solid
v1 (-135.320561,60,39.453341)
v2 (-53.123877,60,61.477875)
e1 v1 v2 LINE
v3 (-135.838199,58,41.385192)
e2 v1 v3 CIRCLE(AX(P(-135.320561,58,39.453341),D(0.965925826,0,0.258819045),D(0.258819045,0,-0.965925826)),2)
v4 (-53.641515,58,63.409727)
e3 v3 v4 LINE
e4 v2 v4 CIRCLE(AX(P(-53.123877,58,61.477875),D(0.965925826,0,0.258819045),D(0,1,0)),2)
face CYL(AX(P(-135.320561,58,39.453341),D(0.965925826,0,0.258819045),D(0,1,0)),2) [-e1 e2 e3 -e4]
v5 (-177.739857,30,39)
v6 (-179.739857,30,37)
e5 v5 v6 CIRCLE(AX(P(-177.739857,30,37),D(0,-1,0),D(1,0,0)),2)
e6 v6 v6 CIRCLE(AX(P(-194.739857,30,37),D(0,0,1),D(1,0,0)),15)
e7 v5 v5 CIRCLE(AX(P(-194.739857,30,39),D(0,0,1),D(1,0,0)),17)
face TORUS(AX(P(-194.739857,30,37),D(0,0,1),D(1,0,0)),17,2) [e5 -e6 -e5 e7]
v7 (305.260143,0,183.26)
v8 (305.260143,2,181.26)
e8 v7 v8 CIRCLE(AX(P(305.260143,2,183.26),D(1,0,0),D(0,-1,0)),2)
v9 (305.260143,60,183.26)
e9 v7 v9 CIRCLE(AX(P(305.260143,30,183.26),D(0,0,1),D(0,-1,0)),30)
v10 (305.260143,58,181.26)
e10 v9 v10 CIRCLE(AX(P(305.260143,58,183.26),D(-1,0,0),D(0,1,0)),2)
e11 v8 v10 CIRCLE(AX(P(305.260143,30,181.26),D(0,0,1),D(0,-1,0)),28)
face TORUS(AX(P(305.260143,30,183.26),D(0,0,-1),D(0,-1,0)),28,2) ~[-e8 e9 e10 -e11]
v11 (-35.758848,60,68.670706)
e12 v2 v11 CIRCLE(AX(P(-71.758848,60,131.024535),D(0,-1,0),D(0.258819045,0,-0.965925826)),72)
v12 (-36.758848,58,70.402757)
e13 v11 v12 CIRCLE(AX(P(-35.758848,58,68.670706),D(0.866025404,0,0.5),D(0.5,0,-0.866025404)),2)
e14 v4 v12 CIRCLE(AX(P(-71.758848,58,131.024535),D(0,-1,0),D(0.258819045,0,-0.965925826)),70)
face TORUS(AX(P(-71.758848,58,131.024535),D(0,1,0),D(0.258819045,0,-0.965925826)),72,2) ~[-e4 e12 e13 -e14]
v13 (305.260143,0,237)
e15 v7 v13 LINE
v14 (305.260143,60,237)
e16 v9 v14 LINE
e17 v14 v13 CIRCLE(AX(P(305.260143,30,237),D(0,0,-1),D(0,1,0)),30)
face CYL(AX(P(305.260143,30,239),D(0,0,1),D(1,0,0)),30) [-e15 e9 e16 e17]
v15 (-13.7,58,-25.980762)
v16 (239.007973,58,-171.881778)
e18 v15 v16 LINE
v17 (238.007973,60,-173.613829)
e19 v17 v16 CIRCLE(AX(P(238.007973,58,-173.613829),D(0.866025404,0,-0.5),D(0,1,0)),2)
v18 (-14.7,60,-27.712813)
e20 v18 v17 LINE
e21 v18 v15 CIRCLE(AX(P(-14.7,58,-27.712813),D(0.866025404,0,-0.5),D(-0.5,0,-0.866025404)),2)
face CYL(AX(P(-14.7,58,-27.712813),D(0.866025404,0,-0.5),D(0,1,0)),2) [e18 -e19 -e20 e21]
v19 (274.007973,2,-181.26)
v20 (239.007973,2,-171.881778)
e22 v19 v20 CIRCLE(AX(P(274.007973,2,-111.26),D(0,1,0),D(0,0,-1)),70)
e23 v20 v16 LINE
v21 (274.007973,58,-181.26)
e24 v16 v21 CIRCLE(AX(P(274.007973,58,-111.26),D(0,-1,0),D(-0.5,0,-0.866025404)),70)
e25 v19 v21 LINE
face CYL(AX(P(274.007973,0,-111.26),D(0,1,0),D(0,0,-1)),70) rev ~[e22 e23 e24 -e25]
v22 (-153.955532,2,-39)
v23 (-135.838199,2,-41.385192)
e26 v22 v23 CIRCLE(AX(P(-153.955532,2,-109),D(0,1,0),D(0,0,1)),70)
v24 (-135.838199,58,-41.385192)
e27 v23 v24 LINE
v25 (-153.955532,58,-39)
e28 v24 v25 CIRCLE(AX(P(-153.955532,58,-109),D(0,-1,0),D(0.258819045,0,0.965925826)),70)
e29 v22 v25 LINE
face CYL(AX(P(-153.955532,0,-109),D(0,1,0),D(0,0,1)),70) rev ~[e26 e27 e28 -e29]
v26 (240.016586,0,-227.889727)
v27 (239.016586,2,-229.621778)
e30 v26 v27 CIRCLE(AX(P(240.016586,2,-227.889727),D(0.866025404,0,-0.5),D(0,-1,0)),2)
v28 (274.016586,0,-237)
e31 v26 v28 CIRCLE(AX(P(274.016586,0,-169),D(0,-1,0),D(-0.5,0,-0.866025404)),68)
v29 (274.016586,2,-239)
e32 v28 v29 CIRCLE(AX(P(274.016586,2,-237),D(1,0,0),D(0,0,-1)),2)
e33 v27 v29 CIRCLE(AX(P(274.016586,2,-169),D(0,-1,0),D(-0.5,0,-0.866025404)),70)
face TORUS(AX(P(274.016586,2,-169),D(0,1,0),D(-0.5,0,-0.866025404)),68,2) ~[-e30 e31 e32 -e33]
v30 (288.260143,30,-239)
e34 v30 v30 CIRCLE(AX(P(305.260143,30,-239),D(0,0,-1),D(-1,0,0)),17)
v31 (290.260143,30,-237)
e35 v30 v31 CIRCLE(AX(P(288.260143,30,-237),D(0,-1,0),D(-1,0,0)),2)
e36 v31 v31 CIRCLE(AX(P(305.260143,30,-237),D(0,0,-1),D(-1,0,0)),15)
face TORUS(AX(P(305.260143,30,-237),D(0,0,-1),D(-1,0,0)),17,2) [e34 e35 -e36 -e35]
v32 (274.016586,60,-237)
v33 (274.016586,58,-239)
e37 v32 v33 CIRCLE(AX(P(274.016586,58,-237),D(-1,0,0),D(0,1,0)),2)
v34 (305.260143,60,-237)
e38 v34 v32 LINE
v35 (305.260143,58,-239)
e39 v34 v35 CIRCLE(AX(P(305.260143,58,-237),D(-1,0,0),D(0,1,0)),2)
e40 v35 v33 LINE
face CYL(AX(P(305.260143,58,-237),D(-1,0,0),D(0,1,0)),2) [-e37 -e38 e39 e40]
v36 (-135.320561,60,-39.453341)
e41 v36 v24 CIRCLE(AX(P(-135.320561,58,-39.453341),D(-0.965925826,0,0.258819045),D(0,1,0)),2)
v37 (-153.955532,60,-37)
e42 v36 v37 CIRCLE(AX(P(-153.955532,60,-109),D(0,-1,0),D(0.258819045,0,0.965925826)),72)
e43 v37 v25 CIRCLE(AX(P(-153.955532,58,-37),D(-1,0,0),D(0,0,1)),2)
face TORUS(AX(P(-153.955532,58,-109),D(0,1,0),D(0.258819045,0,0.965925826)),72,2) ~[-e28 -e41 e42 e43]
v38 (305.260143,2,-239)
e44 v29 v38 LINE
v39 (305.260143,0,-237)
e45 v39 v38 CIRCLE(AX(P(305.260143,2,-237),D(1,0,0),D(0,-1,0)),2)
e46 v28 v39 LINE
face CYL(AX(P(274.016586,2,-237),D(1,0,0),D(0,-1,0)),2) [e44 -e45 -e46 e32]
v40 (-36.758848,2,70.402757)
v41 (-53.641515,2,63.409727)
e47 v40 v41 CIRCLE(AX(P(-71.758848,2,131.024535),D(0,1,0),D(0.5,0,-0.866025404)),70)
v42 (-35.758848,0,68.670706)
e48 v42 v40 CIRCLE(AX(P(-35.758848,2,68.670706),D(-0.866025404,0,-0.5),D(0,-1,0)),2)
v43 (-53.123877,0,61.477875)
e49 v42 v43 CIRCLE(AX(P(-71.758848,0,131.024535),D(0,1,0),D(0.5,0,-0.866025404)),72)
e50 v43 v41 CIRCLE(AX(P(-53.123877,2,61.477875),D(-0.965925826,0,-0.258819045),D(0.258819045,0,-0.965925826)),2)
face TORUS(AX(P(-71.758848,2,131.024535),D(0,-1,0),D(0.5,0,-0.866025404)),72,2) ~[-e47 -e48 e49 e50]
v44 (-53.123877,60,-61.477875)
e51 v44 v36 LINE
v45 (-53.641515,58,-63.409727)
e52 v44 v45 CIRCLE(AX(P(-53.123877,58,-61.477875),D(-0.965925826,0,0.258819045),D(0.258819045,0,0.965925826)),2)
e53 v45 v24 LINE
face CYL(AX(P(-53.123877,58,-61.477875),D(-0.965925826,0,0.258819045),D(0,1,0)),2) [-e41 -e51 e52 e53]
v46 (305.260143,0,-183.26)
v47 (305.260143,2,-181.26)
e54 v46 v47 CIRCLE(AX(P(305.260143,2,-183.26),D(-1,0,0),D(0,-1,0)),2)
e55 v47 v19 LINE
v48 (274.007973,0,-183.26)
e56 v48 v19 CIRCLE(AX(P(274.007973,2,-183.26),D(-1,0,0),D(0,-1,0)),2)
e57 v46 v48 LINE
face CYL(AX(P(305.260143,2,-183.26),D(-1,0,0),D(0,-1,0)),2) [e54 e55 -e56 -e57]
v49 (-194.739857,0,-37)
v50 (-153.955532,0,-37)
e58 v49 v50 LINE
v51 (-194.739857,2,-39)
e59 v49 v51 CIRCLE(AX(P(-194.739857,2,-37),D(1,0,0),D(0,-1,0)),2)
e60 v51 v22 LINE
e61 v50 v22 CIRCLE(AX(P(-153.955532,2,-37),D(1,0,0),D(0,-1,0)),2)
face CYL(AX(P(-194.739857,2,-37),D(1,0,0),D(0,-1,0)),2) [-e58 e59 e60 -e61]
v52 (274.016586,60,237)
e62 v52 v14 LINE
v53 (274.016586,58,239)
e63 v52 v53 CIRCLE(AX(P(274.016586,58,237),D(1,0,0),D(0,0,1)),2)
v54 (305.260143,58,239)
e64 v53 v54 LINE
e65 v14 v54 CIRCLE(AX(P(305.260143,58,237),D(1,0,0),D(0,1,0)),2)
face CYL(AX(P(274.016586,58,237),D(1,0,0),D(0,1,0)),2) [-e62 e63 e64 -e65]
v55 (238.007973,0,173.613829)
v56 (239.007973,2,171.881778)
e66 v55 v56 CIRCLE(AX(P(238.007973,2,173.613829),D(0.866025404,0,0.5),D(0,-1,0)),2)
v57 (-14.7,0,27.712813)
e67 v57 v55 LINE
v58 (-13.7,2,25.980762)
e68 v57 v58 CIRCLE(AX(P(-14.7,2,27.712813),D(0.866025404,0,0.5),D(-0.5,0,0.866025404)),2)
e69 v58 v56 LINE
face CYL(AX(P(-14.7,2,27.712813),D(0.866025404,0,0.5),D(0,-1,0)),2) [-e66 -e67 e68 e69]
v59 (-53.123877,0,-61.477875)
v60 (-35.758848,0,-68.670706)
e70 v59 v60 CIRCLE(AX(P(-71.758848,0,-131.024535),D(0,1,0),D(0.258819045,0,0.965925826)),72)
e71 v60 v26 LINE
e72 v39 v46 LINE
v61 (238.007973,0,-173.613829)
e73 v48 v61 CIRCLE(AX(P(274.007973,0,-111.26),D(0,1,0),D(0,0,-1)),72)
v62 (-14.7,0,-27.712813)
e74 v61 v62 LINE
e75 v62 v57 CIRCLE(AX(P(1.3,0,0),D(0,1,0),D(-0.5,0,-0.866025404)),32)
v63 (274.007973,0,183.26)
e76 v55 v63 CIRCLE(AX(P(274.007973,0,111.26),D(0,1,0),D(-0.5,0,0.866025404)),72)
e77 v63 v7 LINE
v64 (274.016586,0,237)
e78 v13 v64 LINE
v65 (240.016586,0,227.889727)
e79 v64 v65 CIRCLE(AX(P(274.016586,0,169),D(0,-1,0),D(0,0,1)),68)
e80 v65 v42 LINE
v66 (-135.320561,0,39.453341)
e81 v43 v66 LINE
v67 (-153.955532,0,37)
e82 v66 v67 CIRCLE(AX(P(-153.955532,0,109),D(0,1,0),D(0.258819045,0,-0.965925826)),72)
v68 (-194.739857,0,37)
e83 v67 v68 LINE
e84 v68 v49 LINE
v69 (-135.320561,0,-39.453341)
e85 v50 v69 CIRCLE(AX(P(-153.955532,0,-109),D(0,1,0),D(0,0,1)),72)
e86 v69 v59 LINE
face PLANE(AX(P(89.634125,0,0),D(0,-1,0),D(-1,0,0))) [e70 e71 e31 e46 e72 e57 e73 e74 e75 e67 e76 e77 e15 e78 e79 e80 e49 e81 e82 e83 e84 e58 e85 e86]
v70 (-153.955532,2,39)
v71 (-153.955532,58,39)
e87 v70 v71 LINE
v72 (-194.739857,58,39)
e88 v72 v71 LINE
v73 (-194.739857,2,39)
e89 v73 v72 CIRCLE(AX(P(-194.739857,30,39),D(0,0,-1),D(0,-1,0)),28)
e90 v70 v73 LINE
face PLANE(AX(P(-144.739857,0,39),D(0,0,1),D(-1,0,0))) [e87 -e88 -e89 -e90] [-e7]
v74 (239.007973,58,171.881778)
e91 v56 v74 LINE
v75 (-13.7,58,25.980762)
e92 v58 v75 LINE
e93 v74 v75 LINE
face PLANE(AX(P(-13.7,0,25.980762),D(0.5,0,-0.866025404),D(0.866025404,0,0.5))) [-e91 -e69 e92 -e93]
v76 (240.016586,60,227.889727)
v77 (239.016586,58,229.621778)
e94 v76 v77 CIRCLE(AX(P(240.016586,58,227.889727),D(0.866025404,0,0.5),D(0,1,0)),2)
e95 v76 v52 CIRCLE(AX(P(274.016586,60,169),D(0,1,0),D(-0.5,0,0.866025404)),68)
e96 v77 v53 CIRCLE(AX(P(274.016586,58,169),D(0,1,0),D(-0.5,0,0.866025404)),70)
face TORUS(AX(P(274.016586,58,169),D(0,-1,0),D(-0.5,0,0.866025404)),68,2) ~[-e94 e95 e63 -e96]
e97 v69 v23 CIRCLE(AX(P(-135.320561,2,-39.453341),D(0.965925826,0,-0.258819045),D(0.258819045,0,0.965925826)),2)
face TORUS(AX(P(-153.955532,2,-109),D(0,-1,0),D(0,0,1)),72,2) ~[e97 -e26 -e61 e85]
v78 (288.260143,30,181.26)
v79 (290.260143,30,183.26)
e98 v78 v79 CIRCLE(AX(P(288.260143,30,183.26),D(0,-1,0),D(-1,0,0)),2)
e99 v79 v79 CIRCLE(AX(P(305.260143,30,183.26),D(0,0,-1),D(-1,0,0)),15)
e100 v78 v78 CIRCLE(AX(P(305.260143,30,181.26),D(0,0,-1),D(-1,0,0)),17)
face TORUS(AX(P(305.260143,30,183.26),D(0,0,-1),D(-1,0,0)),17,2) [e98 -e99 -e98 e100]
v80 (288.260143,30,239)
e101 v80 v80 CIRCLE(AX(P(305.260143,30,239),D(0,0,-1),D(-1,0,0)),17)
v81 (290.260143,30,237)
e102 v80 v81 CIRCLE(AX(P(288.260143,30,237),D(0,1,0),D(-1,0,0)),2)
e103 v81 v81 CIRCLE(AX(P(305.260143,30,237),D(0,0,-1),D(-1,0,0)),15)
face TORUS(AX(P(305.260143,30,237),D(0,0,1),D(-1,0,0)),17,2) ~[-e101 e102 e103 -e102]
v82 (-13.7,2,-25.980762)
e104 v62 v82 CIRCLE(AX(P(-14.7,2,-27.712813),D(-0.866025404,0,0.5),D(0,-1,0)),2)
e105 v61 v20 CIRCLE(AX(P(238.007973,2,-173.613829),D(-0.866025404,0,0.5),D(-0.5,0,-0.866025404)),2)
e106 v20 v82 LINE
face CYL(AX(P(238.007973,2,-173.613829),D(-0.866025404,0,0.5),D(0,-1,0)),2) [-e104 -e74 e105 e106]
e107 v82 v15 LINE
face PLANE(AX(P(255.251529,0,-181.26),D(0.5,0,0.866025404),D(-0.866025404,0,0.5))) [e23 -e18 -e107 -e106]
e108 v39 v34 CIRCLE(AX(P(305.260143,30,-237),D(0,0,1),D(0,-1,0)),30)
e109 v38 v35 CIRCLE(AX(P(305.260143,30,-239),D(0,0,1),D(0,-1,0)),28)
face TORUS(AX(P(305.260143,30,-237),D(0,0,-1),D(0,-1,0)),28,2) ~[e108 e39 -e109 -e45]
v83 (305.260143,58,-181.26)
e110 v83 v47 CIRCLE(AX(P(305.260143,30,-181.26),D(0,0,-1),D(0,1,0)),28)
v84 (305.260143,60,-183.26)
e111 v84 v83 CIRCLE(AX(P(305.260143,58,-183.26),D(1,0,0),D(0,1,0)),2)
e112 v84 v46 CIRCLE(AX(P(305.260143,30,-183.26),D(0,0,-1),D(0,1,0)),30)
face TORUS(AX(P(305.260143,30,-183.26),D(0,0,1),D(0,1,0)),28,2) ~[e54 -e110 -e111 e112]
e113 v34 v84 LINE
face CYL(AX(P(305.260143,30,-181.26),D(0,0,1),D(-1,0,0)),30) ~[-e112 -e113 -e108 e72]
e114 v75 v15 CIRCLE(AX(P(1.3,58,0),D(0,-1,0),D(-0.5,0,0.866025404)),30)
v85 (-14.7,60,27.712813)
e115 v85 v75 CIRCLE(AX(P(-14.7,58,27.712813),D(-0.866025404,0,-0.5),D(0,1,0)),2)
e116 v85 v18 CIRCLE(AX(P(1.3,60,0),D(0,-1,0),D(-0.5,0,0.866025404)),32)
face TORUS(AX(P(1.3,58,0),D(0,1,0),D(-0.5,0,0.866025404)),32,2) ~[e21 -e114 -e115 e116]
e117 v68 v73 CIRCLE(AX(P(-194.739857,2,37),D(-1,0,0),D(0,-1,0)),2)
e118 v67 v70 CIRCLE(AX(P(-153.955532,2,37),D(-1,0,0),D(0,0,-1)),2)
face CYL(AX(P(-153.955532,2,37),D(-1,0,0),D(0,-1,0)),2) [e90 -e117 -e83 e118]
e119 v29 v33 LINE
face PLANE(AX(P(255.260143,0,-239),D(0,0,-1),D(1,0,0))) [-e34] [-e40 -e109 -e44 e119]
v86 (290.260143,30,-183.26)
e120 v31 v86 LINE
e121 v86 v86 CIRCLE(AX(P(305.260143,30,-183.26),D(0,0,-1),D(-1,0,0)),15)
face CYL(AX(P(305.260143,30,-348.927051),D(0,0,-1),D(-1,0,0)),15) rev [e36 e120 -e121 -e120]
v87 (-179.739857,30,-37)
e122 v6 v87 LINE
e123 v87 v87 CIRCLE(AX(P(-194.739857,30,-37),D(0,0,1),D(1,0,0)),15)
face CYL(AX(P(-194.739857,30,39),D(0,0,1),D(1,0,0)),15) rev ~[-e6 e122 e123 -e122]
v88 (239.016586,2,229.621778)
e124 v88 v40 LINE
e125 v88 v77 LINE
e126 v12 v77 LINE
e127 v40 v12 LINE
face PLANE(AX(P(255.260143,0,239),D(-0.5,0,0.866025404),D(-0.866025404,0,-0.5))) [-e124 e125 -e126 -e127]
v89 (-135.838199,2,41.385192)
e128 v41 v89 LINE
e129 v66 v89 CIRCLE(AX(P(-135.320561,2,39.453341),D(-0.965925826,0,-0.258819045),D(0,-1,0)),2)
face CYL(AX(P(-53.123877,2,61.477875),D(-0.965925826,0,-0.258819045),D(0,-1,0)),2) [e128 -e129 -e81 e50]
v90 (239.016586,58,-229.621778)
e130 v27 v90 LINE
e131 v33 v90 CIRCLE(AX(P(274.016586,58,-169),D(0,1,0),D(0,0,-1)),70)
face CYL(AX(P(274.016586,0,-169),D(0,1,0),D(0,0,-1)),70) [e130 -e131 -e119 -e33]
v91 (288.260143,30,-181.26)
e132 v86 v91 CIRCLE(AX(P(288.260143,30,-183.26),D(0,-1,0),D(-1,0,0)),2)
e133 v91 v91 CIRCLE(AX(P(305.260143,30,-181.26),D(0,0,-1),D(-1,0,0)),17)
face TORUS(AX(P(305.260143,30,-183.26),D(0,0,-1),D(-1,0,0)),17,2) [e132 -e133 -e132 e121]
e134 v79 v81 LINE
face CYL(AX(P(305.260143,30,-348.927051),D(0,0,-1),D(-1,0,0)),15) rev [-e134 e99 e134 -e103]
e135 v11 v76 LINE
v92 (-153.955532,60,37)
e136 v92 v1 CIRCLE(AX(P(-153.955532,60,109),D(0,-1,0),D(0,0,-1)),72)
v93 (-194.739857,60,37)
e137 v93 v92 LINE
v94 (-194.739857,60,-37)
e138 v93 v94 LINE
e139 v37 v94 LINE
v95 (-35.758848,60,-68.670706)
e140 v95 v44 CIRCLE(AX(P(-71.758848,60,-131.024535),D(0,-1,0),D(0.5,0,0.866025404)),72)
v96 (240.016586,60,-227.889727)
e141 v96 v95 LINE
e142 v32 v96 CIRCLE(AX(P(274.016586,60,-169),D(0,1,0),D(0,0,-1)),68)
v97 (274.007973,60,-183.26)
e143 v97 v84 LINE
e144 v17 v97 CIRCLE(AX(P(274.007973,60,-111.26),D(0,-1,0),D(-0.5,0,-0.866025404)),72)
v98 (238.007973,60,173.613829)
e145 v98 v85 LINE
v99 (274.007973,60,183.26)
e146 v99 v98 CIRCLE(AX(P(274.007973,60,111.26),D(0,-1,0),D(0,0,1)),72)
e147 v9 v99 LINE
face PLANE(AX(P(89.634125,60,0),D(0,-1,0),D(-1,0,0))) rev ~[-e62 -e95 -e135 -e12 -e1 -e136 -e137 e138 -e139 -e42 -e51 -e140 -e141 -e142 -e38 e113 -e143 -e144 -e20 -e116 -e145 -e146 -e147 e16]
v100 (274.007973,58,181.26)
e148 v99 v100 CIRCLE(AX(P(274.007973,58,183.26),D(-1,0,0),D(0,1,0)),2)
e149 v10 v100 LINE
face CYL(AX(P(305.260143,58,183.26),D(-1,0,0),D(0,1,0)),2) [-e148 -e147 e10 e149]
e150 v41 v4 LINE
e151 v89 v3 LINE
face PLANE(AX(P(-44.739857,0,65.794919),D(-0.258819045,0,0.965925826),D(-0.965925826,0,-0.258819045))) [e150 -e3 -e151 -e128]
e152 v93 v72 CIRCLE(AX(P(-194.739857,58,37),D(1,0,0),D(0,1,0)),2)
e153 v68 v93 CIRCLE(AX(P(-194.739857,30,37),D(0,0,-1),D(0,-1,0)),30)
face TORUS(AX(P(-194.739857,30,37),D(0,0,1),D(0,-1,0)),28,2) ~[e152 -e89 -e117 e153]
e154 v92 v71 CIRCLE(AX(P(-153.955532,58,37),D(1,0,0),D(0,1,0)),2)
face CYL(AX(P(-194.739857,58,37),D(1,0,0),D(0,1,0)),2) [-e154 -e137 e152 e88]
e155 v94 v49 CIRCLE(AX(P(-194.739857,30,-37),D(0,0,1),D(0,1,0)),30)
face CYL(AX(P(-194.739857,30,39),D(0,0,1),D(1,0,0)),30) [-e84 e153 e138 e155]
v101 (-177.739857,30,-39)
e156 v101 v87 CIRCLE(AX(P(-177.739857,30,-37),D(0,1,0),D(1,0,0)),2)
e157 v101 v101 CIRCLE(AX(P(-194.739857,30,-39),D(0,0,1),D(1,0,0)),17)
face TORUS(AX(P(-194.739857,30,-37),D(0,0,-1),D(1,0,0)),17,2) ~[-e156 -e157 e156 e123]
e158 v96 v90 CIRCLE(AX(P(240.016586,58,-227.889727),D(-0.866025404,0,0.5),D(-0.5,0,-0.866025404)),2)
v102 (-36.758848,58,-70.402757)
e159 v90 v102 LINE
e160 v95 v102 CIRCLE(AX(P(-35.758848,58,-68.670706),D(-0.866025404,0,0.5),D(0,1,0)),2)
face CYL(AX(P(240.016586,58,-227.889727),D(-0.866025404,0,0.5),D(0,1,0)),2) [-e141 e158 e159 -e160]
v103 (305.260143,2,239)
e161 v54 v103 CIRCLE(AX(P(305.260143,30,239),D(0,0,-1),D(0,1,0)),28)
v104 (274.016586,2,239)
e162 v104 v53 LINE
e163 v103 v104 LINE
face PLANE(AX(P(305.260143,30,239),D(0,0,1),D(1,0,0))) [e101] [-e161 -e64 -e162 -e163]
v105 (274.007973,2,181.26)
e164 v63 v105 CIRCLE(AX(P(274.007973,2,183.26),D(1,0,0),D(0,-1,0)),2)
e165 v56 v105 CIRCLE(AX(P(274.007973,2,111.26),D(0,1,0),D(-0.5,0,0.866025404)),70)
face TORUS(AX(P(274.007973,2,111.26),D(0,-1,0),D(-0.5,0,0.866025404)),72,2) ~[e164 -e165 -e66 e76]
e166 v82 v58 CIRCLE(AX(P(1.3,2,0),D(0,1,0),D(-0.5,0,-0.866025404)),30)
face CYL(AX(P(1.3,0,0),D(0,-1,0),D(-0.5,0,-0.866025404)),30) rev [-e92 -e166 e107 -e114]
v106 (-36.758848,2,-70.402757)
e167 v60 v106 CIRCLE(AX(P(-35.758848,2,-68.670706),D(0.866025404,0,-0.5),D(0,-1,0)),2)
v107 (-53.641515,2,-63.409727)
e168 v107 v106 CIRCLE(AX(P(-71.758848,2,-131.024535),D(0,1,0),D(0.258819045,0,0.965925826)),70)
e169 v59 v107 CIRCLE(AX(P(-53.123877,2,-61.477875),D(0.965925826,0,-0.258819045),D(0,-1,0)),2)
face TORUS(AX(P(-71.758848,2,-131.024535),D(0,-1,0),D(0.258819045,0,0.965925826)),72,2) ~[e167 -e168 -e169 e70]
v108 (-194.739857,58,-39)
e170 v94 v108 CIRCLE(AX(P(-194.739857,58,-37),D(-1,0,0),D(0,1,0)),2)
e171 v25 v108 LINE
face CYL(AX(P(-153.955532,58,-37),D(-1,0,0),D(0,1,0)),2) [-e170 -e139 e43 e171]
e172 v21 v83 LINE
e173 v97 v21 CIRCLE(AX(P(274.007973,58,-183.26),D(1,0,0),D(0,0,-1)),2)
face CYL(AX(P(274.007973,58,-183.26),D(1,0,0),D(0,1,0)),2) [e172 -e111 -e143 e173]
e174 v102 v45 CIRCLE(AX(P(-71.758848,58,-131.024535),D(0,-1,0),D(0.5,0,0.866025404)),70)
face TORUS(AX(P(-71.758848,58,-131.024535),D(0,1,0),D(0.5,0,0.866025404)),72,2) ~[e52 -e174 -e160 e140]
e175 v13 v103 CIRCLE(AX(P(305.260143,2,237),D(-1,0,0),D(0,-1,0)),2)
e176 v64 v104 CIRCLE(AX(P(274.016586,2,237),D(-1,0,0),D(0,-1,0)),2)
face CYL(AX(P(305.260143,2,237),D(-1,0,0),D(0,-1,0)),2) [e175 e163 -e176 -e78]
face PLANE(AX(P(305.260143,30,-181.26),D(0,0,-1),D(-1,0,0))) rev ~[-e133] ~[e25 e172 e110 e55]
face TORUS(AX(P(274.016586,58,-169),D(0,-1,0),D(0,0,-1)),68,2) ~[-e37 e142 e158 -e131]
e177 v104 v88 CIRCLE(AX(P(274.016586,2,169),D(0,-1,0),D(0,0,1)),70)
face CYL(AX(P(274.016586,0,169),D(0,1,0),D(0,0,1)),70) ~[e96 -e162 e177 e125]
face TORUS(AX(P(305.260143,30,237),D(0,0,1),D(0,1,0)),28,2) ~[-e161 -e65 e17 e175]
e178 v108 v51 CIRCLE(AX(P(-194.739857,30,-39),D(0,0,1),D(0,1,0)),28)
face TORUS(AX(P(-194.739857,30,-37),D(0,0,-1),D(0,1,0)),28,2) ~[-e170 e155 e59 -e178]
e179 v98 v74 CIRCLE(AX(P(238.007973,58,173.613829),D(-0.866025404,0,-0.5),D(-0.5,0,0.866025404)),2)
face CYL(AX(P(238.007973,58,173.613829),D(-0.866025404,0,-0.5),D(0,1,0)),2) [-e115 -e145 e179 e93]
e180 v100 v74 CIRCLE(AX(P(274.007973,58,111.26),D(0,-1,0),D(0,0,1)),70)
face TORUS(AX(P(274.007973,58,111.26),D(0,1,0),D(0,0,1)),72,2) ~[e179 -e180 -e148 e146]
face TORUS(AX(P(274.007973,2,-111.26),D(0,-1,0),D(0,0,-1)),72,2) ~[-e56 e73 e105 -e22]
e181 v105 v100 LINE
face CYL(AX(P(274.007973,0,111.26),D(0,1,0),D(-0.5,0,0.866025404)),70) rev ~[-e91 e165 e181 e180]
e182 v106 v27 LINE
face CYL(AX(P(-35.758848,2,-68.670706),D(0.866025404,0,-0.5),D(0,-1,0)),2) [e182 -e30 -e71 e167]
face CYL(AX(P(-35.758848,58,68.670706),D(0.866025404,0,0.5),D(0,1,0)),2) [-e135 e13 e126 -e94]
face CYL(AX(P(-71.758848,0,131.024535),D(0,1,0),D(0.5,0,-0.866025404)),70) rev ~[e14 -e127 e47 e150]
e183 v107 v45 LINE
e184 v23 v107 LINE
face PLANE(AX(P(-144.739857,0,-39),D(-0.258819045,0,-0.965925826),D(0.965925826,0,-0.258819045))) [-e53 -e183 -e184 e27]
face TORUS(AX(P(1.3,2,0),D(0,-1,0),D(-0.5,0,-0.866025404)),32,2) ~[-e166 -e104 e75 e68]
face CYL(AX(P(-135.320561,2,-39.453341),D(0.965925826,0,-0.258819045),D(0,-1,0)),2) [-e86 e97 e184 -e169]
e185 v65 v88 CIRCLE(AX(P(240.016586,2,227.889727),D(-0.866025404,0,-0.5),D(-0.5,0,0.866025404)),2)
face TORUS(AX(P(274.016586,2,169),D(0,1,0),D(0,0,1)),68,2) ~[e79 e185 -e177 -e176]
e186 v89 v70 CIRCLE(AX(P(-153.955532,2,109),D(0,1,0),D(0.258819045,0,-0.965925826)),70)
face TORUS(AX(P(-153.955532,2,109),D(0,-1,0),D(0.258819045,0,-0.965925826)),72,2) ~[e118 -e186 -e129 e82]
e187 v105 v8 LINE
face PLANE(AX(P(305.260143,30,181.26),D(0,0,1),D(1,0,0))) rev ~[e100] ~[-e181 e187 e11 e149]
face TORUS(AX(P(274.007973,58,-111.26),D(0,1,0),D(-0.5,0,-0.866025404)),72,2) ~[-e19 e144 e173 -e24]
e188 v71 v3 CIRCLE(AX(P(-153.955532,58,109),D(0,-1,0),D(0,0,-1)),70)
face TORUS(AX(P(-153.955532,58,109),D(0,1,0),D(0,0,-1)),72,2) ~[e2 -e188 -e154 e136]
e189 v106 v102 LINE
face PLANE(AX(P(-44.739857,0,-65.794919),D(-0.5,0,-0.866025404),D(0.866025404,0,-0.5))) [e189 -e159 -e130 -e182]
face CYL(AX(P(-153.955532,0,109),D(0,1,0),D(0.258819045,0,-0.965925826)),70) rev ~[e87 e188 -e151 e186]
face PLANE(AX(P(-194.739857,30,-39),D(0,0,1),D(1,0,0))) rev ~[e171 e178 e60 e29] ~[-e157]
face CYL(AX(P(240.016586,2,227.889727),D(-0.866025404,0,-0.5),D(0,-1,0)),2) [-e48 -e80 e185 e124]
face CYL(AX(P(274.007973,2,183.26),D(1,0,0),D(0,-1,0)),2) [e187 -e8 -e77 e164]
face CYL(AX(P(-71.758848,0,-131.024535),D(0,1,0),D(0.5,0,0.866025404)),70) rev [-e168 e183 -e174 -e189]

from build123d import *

# Parameters (mm, degrees)
SALIENTE_EXTRUIR1_DEPTH    = 60
CROQUIS2_R                 = 30
SALIENTE_EXTRUIR2_DEPTH    = 78
CORTAR_EXTRUIR1_REACH      = 419.214
CROQUIS3_R                 = 15
CROQUIS4_R                 = 30
SALIENTE_EXTRUIR3_DEPTH    = 57.74
SALIENTE_EXTRUIR4_START    = -57.74
CROQUIS5_R                 = 30
SALIENTE_EXTRUIR4_DEPTH    = 57.74
CORTAR_EXTRUIR2_DEPTH      = 587.927051251
CORTAR_EXTRUIR2_DEPTH_BACK = 587.927051251
CROQUIS6_R                 = 15
REDONDEO1_R                = 70
REDONDEO2_R                = 2


with BuildPart() as part:
    # Croquis1 → Saliente-Extruir1 (new body)
    with BuildSketch(Plane(origin=(0, 0, 0), x_dir=(1, 0, 0), z_dir=(0, 1, 0))):
        with BuildLine():
            Line((-194.739856991, -39), (-194.739856991, 39))
            Line((-194.739856991, 39), (-144.739856991, 39))
            Line((-144.739856991, 39), (-44.739856991, 65.794919243))
            Line((-44.739856991, 65.794919243), (255.260143009, 239))
            Line((255.260143009, 239), (305.260143009, 239))
            Line((305.260143009, 239), (305.260143009, 181.26))
            Line((305.260143009, 181.26), (255.25152938, 181.26))
            Line((255.25152938, 181.26), (-13.7, 25.980762114))
            ThreePointArc((-13.7, 25.980762114), (-28.7, 0), (-13.7, -25.980762114))
            Line((-13.7, -25.980762114), (255.25152938, -181.26))
            Line((255.25152938, -181.26), (305.260143009, -181.26))
            Line((305.260143009, -181.26), (305.260143009, -239))
            Line((305.260143009, -239), (255.260143009, -239))
            Line((255.260143009, -239), (-44.739856991, -65.794919243))
            Line((-44.739856991, -65.794919243), (-144.739856991, -39))
            Line((-144.739856991, -39), (-194.739856991, -39))
        make_face()
    extrude(amount=SALIENTE_EXTRUIR1_DEPTH)

    # Croquis2 → Saliente-Extruir2 (add)
    with BuildSketch(Plane.XY.offset(39)):
        with Locations((-194.739856991, 30)):
            Circle(CROQUIS2_R)
    extrude(amount=-SALIENTE_EXTRUIR2_DEPTH)

    # Croquis3 → Cortar-Extruir1 (cut, up to next)
    with BuildSketch(Plane.XY.offset(39), mode=Mode.PRIVATE) as cortar_extruir1_sk1:
        with Locations((-194.739856991, 30)):
            Circle(CROQUIS3_R)
    cortar_extruir1_tool1 = extrude(cortar_extruir1_sk1.sketch, amount=-CORTAR_EXTRUIR1_REACH, mode=Mode.PRIVATE) & part.part
    add(cortar_extruir1_tool1.solids().sort_by_distance((-194.739857, 30, 39))[0], mode=Mode.SUBTRACT)

    # Croquis4 → Saliente-Extruir3 (add)
    with BuildSketch(Plane.XY.offset(239)):
        with Locations((305.260143009, 30)):
            Circle(CROQUIS4_R)
    extrude(amount=-SALIENTE_EXTRUIR3_DEPTH)

    # Croquis5 → Saliente-Extruir4 (add)
    with BuildSketch(Plane(origin=(0, 0, -239), x_dir=(-1, 0, 0), z_dir=(0, 0, -1)).offset(SALIENTE_EXTRUIR4_START)):
        with Locations((-305.260143009, 30)):
            Circle(CROQUIS5_R)
    extrude(amount=SALIENTE_EXTRUIR4_DEPTH)

    # Croquis6 → Cortar-Extruir2 (cut, two sides: drawn at the far end of the back side and taken through both)
    with BuildSketch(Plane.XY.offset(239).offset(-CORTAR_EXTRUIR2_DEPTH_BACK)):
        with Locations(Location((305.260143009, 30, 0), (0, 0, 180))):
            Circle(CROQUIS6_R)
    extrude(amount=CORTAR_EXTRUIR2_DEPTH + CORTAR_EXTRUIR2_DEPTH_BACK, mode=Mode.SUBTRACT)

    # Redondeo1
    redondeo1_edges = [part.edges().sort_by_distance(p)[0] for p in [
        (255.25152938, 30, 181.26),
        (255.25152938, 30, -181.26),
        (255.260143009, 30, -239),
        (-44.739856991, 30, -65.794919243),
        (-144.739856991, 30, -39),
        (-144.739856991, 30, 39),
        (-44.739856991, 30, 65.794919243),
        (255.260143009, 30, 239),
    ]]
    fillet(redondeo1_edges, radius=REDONDEO1_R)

    # Redondeo2
    redondeo2_edges = [part.edges().sort_by_distance(p)[0] for p in [
        (101.128869002, 0, -150.012267462),
        (101.128869002, 60, -150.012267462),
        (289.63405793, 0, 181.26),
        (289.638364744, 0, 239),
        (289.638364744, 0, -239),
        (112.653986425, 0, -98.931270189),
        (255.899253322, 0, 236.61480784),
        (255.899253322, 0, -236.61480784),
        (289.638364744, 60, -239),
        (289.63405793, 60, 181.26),
        (112.653986425, 60, -98.931270189),
        (289.638364744, 60, 239),
        (255.899253322, 60, 236.61480784),
        (255.899253322, 60, -236.61480784),
        (-44.971008209, 0, 66.352967648),
        (-44.971008209, 60, 66.352967648),
        (-144.818698367, 0, 39.598859704),
        (-144.818698367, 60, 39.598859704),
        (-144.818698367, 0, -39.598859704),
        (-144.818698367, 60, -39.598859704),
        (-44.971008209, 0, -66.352967648),
        (-44.971008209, 60, -66.352967648),
        (255.890639693, 0, -178.87480784),
        (255.890639693, 60, -178.87480784),
        (255.890639693, 0, 178.87480784),
        (255.890639693, 60, 178.87480784),
        (112.653986425, 0, 98.931270189),
        (-28.7, 0, 0),
        (289.63405793, 0, -181.26),
        (-174.347694407, 0, -39),
        (-174.347694407, 0, 39),
        (-174.347694407, 60, 39),
        (-174.347694407, 60, -39),
        (-224.739856991, 30, -39),
        (-224.739856991, 30, 39),
        (289.63405793, 60, -181.26),
        (-209.739856991, 30, -39),
        (-209.739856991, 30, 39),
        (-28.7, 60, 0),
        (335.260143009, 30, 239),
        (335.260143009, 30, 181.26),
        (112.653986425, 60, 98.931270189),
        (335.260143009, 30, -181.26),
        (335.260143009, 30, -239),
        (320.260143009, 30, -181.26),
        (320.260143009, 30, 181.26),
        (320.260143009, 30, 239),
        (320.260143009, 30, -239),
        (101.128869002, 0, 150.012267462),
        (101.128869002, 60, 150.012267462),
        (-94.739856991, 0, 52.397459622),
        (-94.739856991, 60, 52.397459622),
        (-94.739856991, 0, -52.397459622),
        (-94.739856991, 60, -52.397459622),
    ]]
    fillet(redondeo2_edges, radius=REDONDEO2_R)


solid = part.part
